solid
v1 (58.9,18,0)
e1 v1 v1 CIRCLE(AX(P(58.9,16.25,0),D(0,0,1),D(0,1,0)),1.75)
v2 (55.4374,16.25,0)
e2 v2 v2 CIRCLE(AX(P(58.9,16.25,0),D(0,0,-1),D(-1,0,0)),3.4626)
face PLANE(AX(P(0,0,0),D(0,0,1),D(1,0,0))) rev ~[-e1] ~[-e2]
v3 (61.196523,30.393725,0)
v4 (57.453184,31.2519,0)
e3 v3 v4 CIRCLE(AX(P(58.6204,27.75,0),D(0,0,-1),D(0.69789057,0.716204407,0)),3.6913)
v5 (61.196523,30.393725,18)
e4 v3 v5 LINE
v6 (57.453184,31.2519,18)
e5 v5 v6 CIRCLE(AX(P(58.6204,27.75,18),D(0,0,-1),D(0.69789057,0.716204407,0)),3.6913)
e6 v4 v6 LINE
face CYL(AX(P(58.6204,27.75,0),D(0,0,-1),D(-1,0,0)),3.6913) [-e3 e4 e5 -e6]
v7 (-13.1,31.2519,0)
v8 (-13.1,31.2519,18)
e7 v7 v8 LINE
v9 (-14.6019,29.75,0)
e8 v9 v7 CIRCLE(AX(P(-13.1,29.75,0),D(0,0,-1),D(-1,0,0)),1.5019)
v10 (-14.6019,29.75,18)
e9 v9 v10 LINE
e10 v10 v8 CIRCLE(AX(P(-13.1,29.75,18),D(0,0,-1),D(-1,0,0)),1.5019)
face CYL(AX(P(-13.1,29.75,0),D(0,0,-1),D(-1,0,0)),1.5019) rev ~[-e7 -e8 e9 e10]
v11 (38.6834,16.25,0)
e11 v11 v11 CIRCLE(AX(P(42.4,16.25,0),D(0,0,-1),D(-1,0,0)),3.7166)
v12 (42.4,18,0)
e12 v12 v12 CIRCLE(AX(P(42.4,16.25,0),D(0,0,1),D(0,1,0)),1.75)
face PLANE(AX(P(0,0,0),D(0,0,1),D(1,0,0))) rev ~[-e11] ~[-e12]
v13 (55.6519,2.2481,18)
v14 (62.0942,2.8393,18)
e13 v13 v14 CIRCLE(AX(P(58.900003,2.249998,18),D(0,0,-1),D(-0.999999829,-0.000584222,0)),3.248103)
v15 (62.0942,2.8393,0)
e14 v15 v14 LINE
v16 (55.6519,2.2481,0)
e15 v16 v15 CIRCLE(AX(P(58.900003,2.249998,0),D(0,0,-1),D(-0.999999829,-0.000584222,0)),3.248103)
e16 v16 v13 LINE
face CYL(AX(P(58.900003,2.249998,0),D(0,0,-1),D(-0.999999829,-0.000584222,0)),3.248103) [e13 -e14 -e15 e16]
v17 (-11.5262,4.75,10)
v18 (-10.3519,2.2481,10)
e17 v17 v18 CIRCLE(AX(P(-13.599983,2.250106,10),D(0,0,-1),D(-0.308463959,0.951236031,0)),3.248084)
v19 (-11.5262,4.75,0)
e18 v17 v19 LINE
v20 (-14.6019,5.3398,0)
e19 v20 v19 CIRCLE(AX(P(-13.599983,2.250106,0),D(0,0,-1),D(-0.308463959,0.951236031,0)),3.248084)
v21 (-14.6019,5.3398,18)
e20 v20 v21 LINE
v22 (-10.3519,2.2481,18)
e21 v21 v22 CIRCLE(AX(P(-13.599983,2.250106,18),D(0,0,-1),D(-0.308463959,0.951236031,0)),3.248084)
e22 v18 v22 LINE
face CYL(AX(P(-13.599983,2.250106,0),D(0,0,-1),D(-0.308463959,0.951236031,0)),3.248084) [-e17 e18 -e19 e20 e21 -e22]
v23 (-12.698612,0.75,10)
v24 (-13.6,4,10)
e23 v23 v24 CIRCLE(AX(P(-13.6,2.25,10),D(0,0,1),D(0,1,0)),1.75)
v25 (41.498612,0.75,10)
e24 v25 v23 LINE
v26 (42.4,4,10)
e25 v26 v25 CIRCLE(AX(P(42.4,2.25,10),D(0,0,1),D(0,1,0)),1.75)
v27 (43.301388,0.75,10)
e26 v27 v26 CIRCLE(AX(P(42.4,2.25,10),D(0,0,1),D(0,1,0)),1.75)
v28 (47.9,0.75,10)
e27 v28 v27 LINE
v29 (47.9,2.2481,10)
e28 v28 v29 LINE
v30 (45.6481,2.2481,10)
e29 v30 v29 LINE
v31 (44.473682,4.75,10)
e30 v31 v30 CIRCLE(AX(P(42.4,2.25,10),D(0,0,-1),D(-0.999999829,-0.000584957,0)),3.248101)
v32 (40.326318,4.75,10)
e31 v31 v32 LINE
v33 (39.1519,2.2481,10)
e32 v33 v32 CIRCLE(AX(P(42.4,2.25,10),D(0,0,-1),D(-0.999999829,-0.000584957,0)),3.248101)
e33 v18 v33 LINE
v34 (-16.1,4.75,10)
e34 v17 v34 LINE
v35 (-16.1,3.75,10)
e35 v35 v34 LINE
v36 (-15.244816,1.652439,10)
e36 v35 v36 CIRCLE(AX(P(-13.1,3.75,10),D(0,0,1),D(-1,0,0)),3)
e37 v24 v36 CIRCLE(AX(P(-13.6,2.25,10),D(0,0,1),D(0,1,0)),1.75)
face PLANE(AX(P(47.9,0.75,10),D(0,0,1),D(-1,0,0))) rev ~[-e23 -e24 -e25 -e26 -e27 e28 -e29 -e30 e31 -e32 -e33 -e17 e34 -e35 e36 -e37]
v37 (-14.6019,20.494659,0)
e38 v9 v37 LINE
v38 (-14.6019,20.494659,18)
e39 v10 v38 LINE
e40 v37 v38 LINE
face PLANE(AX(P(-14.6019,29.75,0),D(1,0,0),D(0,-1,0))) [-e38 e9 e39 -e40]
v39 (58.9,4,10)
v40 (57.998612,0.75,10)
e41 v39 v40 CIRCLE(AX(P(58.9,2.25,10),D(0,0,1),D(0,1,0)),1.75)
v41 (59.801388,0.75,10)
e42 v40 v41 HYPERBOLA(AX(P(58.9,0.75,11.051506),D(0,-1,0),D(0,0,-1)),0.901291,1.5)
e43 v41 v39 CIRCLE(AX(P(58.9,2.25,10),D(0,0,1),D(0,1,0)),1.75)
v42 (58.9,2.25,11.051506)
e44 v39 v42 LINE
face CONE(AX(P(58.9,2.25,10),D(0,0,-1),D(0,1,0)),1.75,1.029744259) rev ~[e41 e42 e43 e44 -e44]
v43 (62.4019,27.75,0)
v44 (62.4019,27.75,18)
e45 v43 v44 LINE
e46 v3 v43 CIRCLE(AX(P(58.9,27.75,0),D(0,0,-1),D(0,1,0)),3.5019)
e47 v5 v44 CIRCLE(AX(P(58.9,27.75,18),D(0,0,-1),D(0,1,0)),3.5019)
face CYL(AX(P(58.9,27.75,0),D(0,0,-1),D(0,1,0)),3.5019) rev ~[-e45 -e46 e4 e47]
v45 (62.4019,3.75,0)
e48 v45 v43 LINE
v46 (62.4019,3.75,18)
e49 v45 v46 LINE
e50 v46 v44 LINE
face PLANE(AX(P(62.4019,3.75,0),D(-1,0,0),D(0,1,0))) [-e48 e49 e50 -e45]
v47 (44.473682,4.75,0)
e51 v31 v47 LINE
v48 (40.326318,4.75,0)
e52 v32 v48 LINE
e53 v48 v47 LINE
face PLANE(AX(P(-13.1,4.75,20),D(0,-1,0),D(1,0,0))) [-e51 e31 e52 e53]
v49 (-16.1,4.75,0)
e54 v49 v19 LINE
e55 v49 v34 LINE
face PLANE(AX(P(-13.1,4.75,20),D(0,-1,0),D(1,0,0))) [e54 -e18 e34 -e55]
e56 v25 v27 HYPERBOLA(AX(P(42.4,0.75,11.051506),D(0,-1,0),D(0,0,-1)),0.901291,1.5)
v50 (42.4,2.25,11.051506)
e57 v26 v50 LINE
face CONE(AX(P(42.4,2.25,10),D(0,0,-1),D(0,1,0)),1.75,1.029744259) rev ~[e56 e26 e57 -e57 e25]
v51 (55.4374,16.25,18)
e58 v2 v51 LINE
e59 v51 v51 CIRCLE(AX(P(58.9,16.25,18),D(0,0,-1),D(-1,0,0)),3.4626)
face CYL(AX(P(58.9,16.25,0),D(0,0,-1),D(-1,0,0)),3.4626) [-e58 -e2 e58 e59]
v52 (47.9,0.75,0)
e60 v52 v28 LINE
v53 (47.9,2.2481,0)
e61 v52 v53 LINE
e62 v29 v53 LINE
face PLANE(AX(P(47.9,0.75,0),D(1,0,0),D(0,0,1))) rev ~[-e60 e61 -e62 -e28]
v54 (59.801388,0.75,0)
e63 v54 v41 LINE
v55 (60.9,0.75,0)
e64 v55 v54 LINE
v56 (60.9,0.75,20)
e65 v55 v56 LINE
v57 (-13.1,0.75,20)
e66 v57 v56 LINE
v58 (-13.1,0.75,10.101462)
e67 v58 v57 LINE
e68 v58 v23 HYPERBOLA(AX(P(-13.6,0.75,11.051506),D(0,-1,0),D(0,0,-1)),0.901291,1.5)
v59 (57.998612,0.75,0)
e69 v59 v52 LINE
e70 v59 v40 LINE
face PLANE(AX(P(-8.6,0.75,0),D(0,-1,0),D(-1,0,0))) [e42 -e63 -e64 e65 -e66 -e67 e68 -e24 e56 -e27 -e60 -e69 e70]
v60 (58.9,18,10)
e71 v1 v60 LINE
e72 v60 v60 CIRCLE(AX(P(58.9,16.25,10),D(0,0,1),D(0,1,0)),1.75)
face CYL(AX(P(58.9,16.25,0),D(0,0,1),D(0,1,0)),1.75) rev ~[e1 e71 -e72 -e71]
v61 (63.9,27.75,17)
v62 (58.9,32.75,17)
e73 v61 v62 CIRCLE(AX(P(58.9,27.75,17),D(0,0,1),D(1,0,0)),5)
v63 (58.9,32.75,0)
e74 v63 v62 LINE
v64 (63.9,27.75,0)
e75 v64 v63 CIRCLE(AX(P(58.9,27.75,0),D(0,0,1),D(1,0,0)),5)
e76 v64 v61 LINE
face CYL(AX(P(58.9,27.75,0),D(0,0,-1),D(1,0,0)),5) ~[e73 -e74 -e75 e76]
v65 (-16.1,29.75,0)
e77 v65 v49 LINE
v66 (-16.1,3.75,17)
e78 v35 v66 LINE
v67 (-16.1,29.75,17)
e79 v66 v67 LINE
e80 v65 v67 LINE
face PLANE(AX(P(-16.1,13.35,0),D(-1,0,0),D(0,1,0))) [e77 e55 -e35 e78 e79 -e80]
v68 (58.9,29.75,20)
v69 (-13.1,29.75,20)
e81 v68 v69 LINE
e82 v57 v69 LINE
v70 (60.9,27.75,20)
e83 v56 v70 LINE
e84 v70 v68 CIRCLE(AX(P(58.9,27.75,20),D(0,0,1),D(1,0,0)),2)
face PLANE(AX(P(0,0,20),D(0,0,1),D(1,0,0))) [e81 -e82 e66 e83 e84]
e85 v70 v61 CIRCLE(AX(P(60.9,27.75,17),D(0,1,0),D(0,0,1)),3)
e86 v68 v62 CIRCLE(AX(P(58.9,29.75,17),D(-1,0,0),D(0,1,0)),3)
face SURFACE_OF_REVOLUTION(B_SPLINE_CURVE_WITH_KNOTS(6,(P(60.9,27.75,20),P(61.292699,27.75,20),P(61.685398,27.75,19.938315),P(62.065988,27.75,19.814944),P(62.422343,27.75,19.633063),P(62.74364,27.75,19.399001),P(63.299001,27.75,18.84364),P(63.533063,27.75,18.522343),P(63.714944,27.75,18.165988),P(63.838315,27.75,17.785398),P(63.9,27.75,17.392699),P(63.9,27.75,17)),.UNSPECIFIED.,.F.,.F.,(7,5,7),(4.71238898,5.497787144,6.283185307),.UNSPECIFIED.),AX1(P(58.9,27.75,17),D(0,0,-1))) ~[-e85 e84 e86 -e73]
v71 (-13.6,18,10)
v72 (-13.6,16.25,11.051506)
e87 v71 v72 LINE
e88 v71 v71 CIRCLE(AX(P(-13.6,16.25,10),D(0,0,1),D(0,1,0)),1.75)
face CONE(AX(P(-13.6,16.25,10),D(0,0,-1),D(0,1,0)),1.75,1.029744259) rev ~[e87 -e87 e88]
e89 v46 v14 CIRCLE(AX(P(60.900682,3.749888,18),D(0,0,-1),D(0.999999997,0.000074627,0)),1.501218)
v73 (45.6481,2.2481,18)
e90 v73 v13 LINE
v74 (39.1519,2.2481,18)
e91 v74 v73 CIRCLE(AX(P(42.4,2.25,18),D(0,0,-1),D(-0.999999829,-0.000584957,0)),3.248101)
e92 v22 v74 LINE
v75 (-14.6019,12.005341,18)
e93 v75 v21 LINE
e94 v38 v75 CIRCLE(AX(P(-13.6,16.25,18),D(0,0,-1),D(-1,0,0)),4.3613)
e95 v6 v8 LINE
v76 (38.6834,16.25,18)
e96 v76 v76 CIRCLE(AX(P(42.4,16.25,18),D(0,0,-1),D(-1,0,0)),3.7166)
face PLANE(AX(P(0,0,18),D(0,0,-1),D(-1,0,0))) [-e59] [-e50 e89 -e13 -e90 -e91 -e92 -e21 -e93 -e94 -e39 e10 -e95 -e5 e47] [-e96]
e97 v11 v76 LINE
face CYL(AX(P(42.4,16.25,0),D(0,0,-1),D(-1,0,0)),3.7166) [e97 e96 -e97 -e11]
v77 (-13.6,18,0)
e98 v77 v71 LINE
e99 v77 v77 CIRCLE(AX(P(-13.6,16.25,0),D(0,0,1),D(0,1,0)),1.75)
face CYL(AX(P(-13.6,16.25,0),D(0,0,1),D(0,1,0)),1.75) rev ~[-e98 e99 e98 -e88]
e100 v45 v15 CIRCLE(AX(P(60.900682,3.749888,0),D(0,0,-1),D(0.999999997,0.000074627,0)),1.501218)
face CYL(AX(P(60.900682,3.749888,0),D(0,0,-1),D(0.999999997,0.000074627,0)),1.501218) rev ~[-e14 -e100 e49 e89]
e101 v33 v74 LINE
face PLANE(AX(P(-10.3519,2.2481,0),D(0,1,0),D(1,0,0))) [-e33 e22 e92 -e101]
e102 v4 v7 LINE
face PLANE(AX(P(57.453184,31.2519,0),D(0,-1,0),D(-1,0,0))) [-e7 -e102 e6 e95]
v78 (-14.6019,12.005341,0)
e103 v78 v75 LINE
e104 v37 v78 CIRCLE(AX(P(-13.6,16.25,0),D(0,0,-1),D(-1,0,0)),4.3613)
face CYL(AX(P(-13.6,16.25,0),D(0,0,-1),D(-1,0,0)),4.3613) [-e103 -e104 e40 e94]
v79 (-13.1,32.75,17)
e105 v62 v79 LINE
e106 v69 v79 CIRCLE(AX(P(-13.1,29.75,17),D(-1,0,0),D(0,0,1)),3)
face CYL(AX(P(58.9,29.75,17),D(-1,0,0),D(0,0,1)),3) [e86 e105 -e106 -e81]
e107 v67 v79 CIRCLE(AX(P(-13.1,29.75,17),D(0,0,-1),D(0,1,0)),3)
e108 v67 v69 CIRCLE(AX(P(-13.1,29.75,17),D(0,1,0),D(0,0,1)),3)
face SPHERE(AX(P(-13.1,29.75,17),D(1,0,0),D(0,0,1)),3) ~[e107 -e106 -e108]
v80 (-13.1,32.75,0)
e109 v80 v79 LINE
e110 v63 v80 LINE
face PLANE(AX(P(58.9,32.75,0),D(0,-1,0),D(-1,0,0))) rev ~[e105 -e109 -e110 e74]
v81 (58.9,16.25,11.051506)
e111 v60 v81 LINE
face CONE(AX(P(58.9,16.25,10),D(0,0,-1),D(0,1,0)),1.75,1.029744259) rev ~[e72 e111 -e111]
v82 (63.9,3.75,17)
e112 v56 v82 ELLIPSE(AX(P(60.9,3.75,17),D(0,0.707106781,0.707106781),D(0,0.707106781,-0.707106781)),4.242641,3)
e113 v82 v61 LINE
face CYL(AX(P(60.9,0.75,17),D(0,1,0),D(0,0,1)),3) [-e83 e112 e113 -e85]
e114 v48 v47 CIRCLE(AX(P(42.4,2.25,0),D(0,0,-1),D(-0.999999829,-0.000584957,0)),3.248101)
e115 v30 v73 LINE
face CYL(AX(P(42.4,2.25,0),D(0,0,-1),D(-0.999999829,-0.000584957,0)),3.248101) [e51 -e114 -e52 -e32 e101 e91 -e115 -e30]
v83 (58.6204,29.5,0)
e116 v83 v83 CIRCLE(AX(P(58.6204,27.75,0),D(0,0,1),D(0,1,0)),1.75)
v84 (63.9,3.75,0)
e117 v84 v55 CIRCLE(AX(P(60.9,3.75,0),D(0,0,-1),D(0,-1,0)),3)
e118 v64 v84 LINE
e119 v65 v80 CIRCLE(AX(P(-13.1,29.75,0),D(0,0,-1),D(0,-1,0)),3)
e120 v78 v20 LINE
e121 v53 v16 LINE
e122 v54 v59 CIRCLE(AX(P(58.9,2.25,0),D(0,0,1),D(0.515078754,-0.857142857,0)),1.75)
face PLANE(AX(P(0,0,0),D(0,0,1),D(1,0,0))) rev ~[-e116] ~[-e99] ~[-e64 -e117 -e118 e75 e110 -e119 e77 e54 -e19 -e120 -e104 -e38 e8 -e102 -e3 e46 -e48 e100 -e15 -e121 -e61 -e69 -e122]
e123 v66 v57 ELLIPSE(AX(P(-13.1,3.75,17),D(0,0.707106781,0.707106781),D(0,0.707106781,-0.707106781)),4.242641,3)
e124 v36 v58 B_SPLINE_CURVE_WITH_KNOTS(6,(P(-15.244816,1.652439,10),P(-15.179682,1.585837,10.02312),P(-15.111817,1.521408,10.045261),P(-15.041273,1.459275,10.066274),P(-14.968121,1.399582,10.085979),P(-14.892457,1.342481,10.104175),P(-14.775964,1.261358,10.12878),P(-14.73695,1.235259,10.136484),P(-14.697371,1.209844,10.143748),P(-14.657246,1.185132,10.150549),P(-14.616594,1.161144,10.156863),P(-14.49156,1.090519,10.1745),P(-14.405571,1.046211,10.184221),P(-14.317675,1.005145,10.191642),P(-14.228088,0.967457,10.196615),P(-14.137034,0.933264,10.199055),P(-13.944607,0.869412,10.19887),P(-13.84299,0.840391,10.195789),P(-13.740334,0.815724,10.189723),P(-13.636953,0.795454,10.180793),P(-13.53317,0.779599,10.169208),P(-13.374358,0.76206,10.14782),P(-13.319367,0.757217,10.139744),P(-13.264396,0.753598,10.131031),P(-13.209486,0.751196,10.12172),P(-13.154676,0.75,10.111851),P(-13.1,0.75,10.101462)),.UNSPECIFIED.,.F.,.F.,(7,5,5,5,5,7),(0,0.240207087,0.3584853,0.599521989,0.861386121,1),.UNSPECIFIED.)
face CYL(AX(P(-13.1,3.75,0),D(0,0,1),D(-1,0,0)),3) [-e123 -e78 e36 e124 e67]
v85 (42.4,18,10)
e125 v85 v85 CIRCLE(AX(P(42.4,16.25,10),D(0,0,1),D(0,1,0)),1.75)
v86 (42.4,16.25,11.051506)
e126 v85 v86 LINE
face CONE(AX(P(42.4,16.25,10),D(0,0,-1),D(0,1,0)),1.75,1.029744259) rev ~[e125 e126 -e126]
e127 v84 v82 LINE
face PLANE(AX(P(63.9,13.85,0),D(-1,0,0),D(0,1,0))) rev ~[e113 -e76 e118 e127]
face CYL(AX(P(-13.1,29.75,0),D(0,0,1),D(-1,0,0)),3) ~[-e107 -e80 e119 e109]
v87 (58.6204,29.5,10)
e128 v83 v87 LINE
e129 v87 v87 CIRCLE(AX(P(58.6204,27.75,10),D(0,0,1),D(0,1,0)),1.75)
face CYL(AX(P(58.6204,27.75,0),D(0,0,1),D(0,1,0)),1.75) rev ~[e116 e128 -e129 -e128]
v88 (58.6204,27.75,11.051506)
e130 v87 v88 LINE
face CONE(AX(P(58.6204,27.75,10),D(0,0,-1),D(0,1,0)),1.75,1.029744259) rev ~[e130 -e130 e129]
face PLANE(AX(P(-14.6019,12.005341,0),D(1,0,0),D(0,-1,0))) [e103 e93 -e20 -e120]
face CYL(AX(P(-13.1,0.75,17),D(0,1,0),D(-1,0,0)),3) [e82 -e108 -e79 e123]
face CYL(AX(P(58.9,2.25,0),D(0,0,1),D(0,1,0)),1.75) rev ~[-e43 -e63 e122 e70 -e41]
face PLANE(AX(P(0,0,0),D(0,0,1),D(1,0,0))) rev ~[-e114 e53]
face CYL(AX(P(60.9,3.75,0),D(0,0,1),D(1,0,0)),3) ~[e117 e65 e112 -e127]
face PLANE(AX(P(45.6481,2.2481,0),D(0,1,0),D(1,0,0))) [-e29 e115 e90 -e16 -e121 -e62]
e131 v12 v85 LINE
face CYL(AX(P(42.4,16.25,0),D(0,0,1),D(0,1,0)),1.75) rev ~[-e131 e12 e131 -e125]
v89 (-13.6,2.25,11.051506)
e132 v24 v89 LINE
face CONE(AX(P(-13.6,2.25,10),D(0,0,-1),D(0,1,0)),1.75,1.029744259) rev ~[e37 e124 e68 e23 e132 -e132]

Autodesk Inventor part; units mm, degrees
ref_plane "YZ Plane" through (0, 0, 0) normal (1, 0, 0) x (0, 1, 0)
ref_plane "XZ Plane" through (0, 0, 0) normal (0, 1, 0) x (-1, 0, 0)
ref_plane "XY Plane" through (0, 0, 0) normal (0, 0, 1) x (1, 0, 0)
ref_plane "Arbeitsebene1" through (0, 0, 0) normal (0, 0, 1) x (1, 0, 0)
sketch "Skizze1" plane through (0, 0, 0) normal (0, 0, 1) x (1, 0, 0)
  line L0 (37.9, 26.5) -> (37.9, 13.35) projected
  line L1 (37.9, 13.35) -> (53.9, 13.35) projected
  line L2 (53.9, 13.35) -> (53.9, 13.85) projected
  line L3 (53.9, 13.85) -> (63.9, 13.85) projected
  line L4 (63.9, 13.85) -> (63.9, 27.75) projected
  arc A0 (63.9, 27.75) -> (58.9, 32.75) centre (58.9, 27.75) ccw projected
  line L5 (58.9, 32.75) -> (-58.9, 32.75) projected
  arc A1 (-58.9, 32.75) -> (-63.9, 27.75) centre (-58.9, 27.75) ccw projected
  line L6 (-63.9, 27.75) -> (-63.9, 19.25) projected
  line L7 (-63.9, 19.25) -> (-58.9, 19.25) projected
  line L8 (-58.9, 19.25) -> (-58.9, 19.75) projected
  line L9 (-58.9, 19.75) -> (-38.9, 19.75) projected
  line L10 (-38.9, 19.75) -> (-38.9, 13.85) projected
  line L11 (-38.9, 13.85) -> (-28.9, 13.85) projected
  line L12 (-28.9, 13.85) -> (-28.9, 13.35) projected
  line L13 (-28.9, 13.35) -> (-8.6, 13.35) projected
  line L14 (-8.6, 13.35) -> (-8.6, 26.5) projected
  line L15 (-8.6, 26.5) -> (37.9, 26.5) projected
  circle A2 centre (58.6204, 27.75) radius 1.4 projected
  circle A3 centre (-59.1796, 27.75) radius 1.4 projected
  circle A4 centre (-13.6, 16.25) radius 1.4 projected
  circle A5 centre (-33.6, 16.25) radius 1.4 projected
  circle A6 centre (58.9, 16.25) radius 1.4 projected
  circle A7 centre (42.4, 16.25) radius 1.4 projected
  line L16 (-8.6, -11.9682) -> (-10.6, -13.9682) projected
  line L17 (-8.6, -11.9682) -> (-8.6, 5.15) projected
  line L18 (-8.6, 5.15) -> (-28.9, 5.15) projected
  line L19 (-28.9, 5.15) -> (-28.9, 4.65) projected
  line L20 (-28.9, 4.65) -> (-38.9, 4.65) projected
  line L21 (-38.9, 4.65) -> (-38.9, -1.25) projected
  line L22 (-38.9, -1.25) -> (-58.9, -1.25) projected
  line L23 (-58.9, -1.25) -> (-58.9, -0.75) projected
  line L24 (-58.9, -0.75) -> (-63.9, -0.75) projected
  line L25 (-63.9, -0.75) -> (-63.9, -16.5797) projected
  arc A8 (-49.9, -11.2196) -> (-63.9, -16.5797) centre (-50.2702, -31.2162) ccw projected
  line L26 (-49.9, -11.2196) -> (-49.9, -13.9682) projected
  line L27 (-49.9, -13.9682) -> (-10.6, -13.9682) projected
  circle A9 centre (-13.3796, -11.2637) radius 1.4 projected
  circle A10 centre (-33.6, 2.25) radius 1.4 projected
  circle A11 centre (-13.6, 2.25) radius 1.4 projected
  circle A12 centre (58.6204, -47.75) radius 1.4 projected
  circle A13 centre (58.9, 2.25) radius 1.4 projected
  circle A14 centre (42.4, 2.25) radius 1.4 projected
  circle A15 centre (42.4, -11.2637) radius 1.4 projected
  circle A16 centre (42.4, -31.25) radius 1.4 projected
  line L28 (63.9, 4.65) -> (53.9, 4.65) projected
  line L29 (53.9, 4.65) -> (53.9, 5.15) projected
  line L30 (53.9, 5.15) -> (37.9, 5.15) projected
  line L31 (37.9, 5.15) -> (37.9, -41.35) projected
  line L32 (37.9, -41.35) -> (-33.0276, -41.35) projected
  arc A17 (-59.1255, -49.149) -> (-33.0276, -41.35) centre (-50.2702, -31.2162) ccw projected
  arc A18 (-60.3777, -48.4742) -> (-59.1255, -49.149) centre (-59.1796, -47.75) ccw projected
  arc A19 (-63.9, -45.8527) -> (-60.3777, -48.4742) centre (-50.2702, -31.2162) ccw projected
  line L33 (-63.9, -45.8527) -> (-63.9, -47.75) projected
  arc A20 (-63.9, -47.75) -> (-58.9, -52.75) centre (-58.9, -47.75) ccw projected
  line L34 (-58.9, -52.75) -> (58.9, -52.75) projected
  arc A21 (58.9, -52.75) -> (63.9, -47.75) centre (58.9, -47.75) ccw projected
  line L35 (63.9, -47.75) -> (63.9, 4.65) projected
  line L36 (-16.1, 32.75) -> (63.9, 32.75)
  line L37 (63.9, 32.75) -> (63.9, 0.75)
  line L38 (63.9, 0.75) -> (-16.1, 0.75)
  line L39 (-16.1, 0.75) -> (-16.1, 32.75)
  point P0 (0, 0)
  dimension "d0" = 80
  dimension "d1" = 0
  dimension "d2" = 32
extrude "Extrusion1" add sketch "Skizze1" along normal blind 20 contours L15 L14 L13 L39 L5 A0 L4 L3 L2 L1 L0 | L0 L1 L2 L3 L37 L28 L29 L30 L31 L38 L17 L18 L39 L13 L14 L15 | L18 L17 L38 L39 | L35 L38 L31 L30 L29 L28 | A2 | A4 | A6 | A7 | A11 | A13 | A14
fillet "Rundung1" radius 3 7 edges at (62.4355, 31.2855, 20) (63.9, 20.8, 20) (21.4, 32.75, 20) (-16.1, 16.75, 20) (-16.1, 0.75, 10) (-16.1, 32.75, 10) (63.9, 0.75, 10)
sketch "Skizze2" plane through (0, 0, 0) normal (0, 0, -1) x (-1, 0, 0)
  arc A0 (13.1, 0.75) -> (16.1, 3.75) centre (13.1, 3.75) ccw projected
  line L0 (16.1, 29.75) -> (16.1, 3.75) projected
  arc A1 (16.1, 29.75) -> (13.1, 32.75) centre (13.1, 29.75) ccw projected
  line L1 (-58.9, 32.75) -> (13.1, 32.75) projected
  arc A2 (-58.9, 32.75) -> (-63.9, 27.75) centre (-58.9, 27.75) ccw projected
  line L2 (-63.9, 3.75) -> (-63.9, 27.75) projected
  arc A3 (-63.9, 3.75) -> (-60.9, 0.75) centre (-60.9, 3.75) ccw projected
  line L3 (13.1, 0.75) -> (-60.9, 0.75) projected
  line L4 (63.9, -47.75) -> (63.9, 27.75) projected
  arc A4 (63.9, 27.75) -> (58.9, 32.75) centre (58.9, 27.75) ccw projected
  line L5 (58.9, 32.75) -> (-58.9, 32.75) projected
  arc A5 (-58.9, 32.75) -> (-63.9, 27.75) centre (-58.9, 27.75) ccw projected
  line L6 (-63.9, 27.75) -> (-63.9, -47.75) projected
  arc A6 (-63.9, -47.75) -> (-58.9, -52.75) centre (-58.9, -47.75) ccw projected
  line L7 (-58.9, -52.75) -> (58.9, -52.75) projected
  arc A7 (58.9, -52.75) -> (63.9, -47.75) centre (58.9, -47.75) ccw projected
  circle A8 centre (-42.4, -31.25) radius 1.4 projected
  circle A9 centre (13.3796, -11.2637) radius 1.4 projected
  circle A10 centre (-42.4, 16.25) radius 1.4 projected
  circle A11 centre (-58.9, 16.25) radius 1.4 projected
  circle A12 centre (-42.4, 2.25) radius 1.4 projected
  circle A13 centre (33.6, 16.25) radius 1.4 projected
  circle A14 centre (13.6, 2.25) radius 1.4 projected
  circle A15 centre (13.6, 16.25) radius 1.4 projected
  circle A16 centre (-58.9, 2.25) radius 1.4 projected
  circle A17 centre (33.6, 2.25) radius 1.4 projected
  circle A18 centre (-42.4, -11.2637) radius 1.4 projected
  circle A19 centre (-58.6204, -47.75) radius 1.4 projected
  circle A20 centre (59.1796, 27.75) radius 1.4 projected
  circle A21 centre (59.1796, -47.75) radius 1.4 projected
  circle A22 centre (-58.6204, 27.75) radius 1.4 projected
  line L8 (-37.9, -41.35) -> (-37.9, 26.5) projected
  line L9 (-37.9, 26.5) -> (8.6, 26.5) projected
  line L10 (8.6, 26.5) -> (8.6, -11.9682) projected
  line L11 (10.6, -13.9682) -> (8.6, -11.9682) projected
  line L12 (10.6, -13.9682) -> (49.9, -13.9682) projected
  line L13 (49.9, -13.9682) -> (49.9, -41.35) projected
  line L14 (49.9, -41.35) -> (-37.9, -41.35) projected
  line L15 (58.9, -0.75) -> (58.9, -1.25) projected
  line L16 (58.9, -1.25) -> (38.9, -1.25) projected
  line L17 (38.9, -1.25) -> (38.9, 19.75) projected
  line L18 (38.9, 19.75) -> (58.9, 19.75) projected
  line L19 (58.9, 19.75) -> (58.9, 19.25) projected
  line L20 (58.9, 19.25) -> (55.9, 19.25) projected
  line L21 (55.9, -0.75) -> (55.9, 19.25) projected
  line L22 (58.9, -0.75) -> (55.9, -0.75) projected
  point P0 (0, 0)
hole "Bohrung1" at (42.4, 2.25, 0) at (58.9, 2.25, 0) at (58.9, 16.25, 0) at (42.4, 16.25, 0) at (58.6204, 27.75, 0) at (-13.6, 16.25, 0) at (-13.6, 2.25, 0) direction (0, 0, 1) diameter 3.5 depth 10 tip angle 118
sketch "Skizze3" plane through (0, 0, 0) normal (0, 0, -1) x (-1, 0, 0)
  arc A0 (15.2448, 1.6524) -> (16.1, 3.75) centre (13.1, 3.75) ccw projected
  line L0 (16.1, 29.75) -> (16.1, 3.75) projected
  arc A1 (16.1, 29.75) -> (13.1, 32.75) centre (13.1, 29.75) ccw projected
  line L1 (-58.9, 32.75) -> (13.1, 32.75) projected
  arc A2 (-58.9, 32.75) -> (-63.9, 27.75) centre (-58.9, 27.75) ccw projected
  line L2 (-63.9, 3.75) -> (-63.9, 27.75) projected
  arc A3 (-63.9, 3.75) -> (-60.9, 0.75) centre (-60.9, 3.75) ccw projected
  line L3 (-43.3014, 0.75) -> (-57.9986, 0.75) projected
  arc A4 (-58.9, 31.2519) -> (-62.4019, 27.75) centre (-58.9, 27.75) ccw
  line L4 (-58.9, 31.2519) -> (13.1, 31.2519)
  arc A5 (14.6019, 29.75) -> (13.1, 31.2519) centre (13.1, 29.75) ccw
  line L5 (14.6019, 29.75) -> (14.6019, 5.3398)
  arc A6 (14.6019, 5.3398) -> (10.3519, 2.2481) centre (13.6, 2.25) ccw
  line L6 (10.3519, 2.2481) -> (-39.1519, 2.2481)
  arc A7 (-39.1519, 2.2481) -> (-45.6481, 2.2481) centre (-42.4, 2.25) ccw
  line L7 (-45.6481, 2.2481) -> (-55.6519, 2.2481)
  arc A8 (-55.6519, 2.2481) -> (-62.0942, 2.8393) centre (-58.9, 2.25) ccw
  arc A9 (-62.4019, 3.75) -> (-62.0942, 2.8393) centre (-60.9, 3.75) ccw
  line L8 (-62.4019, 3.75) -> (-62.4019, 27.75)
  circle A10 centre (-58.9, 16.25) radius 3.4626
  circle A11 centre (-58.6204, 27.75) radius 3.6913
  circle A12 centre (-42.4, 16.25) radius 3.7166
  circle A13 centre (13.6, 16.25) radius 4.3613
  arc A14 (15.2448, 1.6524) -> (12.6986, 0.75) centre (13.6, 2.25) ccw projected
  line L9 (-59.8014, 0.75) -> (-60.9, 0.75) projected
  arc A15 (-57.9986, 0.75) -> (-59.8014, 0.75) centre (-58.9, 2.25) ccw projected
  arc A16 (-41.4986, 0.75) -> (-43.3014, 0.75) centre (-42.4, 2.25) ccw projected
  line L10 (12.6986, 0.75) -> (-41.4986, 0.75) projected
  point P0 (0, 0)
  point P1 (-57.4529, 31.2519)
  point P2 (-61.1978, 30.3926)
  point P3 (-61.7336, 4.9993)
  point P4 (14.6019, 12.0053)
  point P5 (14.6019, 20.4947)
extrude "Extrusion2" cut sketch "Skizze3" against normal blind 18 contours L5 A6 L6 A7 L7 A8 A9 L8 A4 A11 L4 A5 A13
sketch "Skizze4" plane through (-13.1, 0.75, 20) normal (0, -1, 0) x (1, 0, 0)
  circle A0 centre (31.7066, -26.8441) radius 6 projected
  line L0 (45.2066, -35.8441) -> (18.2066, -35.8441)
  line L1 (18.2066, -35.8441) -> (18.2066, -17.8441)
  line L2 (18.2066, -17.8441) -> (45.2066, -17.8441)
  line L3 (45.2066, -17.8441) -> (45.2066, -35.8441)
  line L4 (45.2066, -35.8441) -> (18.2066, -17.8441) construction
  line L5 (18.2066, -35.8441) -> (45.2066, -17.8441) construction
  point P0 (13.1, -20)
  dimension "d15" = 27
  dimension "d16" = 18
extrude "Extrusion3" cut sketch "Skizze4" against normal blind 18 contours A0 | L0 L1 L2 L3
sketch "Sketch5" plane through (-13.1, 0.75, 20) normal (0, -1, 0) x (1, 0, 0)
  line L0 (-5, -20) -> (61, -20)
  line L1 (61, -20) -> (61, -10)
  line L2 (61, -10) -> (-5, -10)
  line L3 (-5, -10) -> (-5, -20)
  point P0 (13.1, -20)
extrude "Extrusion4" cut sketch "Sketch5" against normal blind 4
properties part number "10_Wellplate_base_Lasercover"
